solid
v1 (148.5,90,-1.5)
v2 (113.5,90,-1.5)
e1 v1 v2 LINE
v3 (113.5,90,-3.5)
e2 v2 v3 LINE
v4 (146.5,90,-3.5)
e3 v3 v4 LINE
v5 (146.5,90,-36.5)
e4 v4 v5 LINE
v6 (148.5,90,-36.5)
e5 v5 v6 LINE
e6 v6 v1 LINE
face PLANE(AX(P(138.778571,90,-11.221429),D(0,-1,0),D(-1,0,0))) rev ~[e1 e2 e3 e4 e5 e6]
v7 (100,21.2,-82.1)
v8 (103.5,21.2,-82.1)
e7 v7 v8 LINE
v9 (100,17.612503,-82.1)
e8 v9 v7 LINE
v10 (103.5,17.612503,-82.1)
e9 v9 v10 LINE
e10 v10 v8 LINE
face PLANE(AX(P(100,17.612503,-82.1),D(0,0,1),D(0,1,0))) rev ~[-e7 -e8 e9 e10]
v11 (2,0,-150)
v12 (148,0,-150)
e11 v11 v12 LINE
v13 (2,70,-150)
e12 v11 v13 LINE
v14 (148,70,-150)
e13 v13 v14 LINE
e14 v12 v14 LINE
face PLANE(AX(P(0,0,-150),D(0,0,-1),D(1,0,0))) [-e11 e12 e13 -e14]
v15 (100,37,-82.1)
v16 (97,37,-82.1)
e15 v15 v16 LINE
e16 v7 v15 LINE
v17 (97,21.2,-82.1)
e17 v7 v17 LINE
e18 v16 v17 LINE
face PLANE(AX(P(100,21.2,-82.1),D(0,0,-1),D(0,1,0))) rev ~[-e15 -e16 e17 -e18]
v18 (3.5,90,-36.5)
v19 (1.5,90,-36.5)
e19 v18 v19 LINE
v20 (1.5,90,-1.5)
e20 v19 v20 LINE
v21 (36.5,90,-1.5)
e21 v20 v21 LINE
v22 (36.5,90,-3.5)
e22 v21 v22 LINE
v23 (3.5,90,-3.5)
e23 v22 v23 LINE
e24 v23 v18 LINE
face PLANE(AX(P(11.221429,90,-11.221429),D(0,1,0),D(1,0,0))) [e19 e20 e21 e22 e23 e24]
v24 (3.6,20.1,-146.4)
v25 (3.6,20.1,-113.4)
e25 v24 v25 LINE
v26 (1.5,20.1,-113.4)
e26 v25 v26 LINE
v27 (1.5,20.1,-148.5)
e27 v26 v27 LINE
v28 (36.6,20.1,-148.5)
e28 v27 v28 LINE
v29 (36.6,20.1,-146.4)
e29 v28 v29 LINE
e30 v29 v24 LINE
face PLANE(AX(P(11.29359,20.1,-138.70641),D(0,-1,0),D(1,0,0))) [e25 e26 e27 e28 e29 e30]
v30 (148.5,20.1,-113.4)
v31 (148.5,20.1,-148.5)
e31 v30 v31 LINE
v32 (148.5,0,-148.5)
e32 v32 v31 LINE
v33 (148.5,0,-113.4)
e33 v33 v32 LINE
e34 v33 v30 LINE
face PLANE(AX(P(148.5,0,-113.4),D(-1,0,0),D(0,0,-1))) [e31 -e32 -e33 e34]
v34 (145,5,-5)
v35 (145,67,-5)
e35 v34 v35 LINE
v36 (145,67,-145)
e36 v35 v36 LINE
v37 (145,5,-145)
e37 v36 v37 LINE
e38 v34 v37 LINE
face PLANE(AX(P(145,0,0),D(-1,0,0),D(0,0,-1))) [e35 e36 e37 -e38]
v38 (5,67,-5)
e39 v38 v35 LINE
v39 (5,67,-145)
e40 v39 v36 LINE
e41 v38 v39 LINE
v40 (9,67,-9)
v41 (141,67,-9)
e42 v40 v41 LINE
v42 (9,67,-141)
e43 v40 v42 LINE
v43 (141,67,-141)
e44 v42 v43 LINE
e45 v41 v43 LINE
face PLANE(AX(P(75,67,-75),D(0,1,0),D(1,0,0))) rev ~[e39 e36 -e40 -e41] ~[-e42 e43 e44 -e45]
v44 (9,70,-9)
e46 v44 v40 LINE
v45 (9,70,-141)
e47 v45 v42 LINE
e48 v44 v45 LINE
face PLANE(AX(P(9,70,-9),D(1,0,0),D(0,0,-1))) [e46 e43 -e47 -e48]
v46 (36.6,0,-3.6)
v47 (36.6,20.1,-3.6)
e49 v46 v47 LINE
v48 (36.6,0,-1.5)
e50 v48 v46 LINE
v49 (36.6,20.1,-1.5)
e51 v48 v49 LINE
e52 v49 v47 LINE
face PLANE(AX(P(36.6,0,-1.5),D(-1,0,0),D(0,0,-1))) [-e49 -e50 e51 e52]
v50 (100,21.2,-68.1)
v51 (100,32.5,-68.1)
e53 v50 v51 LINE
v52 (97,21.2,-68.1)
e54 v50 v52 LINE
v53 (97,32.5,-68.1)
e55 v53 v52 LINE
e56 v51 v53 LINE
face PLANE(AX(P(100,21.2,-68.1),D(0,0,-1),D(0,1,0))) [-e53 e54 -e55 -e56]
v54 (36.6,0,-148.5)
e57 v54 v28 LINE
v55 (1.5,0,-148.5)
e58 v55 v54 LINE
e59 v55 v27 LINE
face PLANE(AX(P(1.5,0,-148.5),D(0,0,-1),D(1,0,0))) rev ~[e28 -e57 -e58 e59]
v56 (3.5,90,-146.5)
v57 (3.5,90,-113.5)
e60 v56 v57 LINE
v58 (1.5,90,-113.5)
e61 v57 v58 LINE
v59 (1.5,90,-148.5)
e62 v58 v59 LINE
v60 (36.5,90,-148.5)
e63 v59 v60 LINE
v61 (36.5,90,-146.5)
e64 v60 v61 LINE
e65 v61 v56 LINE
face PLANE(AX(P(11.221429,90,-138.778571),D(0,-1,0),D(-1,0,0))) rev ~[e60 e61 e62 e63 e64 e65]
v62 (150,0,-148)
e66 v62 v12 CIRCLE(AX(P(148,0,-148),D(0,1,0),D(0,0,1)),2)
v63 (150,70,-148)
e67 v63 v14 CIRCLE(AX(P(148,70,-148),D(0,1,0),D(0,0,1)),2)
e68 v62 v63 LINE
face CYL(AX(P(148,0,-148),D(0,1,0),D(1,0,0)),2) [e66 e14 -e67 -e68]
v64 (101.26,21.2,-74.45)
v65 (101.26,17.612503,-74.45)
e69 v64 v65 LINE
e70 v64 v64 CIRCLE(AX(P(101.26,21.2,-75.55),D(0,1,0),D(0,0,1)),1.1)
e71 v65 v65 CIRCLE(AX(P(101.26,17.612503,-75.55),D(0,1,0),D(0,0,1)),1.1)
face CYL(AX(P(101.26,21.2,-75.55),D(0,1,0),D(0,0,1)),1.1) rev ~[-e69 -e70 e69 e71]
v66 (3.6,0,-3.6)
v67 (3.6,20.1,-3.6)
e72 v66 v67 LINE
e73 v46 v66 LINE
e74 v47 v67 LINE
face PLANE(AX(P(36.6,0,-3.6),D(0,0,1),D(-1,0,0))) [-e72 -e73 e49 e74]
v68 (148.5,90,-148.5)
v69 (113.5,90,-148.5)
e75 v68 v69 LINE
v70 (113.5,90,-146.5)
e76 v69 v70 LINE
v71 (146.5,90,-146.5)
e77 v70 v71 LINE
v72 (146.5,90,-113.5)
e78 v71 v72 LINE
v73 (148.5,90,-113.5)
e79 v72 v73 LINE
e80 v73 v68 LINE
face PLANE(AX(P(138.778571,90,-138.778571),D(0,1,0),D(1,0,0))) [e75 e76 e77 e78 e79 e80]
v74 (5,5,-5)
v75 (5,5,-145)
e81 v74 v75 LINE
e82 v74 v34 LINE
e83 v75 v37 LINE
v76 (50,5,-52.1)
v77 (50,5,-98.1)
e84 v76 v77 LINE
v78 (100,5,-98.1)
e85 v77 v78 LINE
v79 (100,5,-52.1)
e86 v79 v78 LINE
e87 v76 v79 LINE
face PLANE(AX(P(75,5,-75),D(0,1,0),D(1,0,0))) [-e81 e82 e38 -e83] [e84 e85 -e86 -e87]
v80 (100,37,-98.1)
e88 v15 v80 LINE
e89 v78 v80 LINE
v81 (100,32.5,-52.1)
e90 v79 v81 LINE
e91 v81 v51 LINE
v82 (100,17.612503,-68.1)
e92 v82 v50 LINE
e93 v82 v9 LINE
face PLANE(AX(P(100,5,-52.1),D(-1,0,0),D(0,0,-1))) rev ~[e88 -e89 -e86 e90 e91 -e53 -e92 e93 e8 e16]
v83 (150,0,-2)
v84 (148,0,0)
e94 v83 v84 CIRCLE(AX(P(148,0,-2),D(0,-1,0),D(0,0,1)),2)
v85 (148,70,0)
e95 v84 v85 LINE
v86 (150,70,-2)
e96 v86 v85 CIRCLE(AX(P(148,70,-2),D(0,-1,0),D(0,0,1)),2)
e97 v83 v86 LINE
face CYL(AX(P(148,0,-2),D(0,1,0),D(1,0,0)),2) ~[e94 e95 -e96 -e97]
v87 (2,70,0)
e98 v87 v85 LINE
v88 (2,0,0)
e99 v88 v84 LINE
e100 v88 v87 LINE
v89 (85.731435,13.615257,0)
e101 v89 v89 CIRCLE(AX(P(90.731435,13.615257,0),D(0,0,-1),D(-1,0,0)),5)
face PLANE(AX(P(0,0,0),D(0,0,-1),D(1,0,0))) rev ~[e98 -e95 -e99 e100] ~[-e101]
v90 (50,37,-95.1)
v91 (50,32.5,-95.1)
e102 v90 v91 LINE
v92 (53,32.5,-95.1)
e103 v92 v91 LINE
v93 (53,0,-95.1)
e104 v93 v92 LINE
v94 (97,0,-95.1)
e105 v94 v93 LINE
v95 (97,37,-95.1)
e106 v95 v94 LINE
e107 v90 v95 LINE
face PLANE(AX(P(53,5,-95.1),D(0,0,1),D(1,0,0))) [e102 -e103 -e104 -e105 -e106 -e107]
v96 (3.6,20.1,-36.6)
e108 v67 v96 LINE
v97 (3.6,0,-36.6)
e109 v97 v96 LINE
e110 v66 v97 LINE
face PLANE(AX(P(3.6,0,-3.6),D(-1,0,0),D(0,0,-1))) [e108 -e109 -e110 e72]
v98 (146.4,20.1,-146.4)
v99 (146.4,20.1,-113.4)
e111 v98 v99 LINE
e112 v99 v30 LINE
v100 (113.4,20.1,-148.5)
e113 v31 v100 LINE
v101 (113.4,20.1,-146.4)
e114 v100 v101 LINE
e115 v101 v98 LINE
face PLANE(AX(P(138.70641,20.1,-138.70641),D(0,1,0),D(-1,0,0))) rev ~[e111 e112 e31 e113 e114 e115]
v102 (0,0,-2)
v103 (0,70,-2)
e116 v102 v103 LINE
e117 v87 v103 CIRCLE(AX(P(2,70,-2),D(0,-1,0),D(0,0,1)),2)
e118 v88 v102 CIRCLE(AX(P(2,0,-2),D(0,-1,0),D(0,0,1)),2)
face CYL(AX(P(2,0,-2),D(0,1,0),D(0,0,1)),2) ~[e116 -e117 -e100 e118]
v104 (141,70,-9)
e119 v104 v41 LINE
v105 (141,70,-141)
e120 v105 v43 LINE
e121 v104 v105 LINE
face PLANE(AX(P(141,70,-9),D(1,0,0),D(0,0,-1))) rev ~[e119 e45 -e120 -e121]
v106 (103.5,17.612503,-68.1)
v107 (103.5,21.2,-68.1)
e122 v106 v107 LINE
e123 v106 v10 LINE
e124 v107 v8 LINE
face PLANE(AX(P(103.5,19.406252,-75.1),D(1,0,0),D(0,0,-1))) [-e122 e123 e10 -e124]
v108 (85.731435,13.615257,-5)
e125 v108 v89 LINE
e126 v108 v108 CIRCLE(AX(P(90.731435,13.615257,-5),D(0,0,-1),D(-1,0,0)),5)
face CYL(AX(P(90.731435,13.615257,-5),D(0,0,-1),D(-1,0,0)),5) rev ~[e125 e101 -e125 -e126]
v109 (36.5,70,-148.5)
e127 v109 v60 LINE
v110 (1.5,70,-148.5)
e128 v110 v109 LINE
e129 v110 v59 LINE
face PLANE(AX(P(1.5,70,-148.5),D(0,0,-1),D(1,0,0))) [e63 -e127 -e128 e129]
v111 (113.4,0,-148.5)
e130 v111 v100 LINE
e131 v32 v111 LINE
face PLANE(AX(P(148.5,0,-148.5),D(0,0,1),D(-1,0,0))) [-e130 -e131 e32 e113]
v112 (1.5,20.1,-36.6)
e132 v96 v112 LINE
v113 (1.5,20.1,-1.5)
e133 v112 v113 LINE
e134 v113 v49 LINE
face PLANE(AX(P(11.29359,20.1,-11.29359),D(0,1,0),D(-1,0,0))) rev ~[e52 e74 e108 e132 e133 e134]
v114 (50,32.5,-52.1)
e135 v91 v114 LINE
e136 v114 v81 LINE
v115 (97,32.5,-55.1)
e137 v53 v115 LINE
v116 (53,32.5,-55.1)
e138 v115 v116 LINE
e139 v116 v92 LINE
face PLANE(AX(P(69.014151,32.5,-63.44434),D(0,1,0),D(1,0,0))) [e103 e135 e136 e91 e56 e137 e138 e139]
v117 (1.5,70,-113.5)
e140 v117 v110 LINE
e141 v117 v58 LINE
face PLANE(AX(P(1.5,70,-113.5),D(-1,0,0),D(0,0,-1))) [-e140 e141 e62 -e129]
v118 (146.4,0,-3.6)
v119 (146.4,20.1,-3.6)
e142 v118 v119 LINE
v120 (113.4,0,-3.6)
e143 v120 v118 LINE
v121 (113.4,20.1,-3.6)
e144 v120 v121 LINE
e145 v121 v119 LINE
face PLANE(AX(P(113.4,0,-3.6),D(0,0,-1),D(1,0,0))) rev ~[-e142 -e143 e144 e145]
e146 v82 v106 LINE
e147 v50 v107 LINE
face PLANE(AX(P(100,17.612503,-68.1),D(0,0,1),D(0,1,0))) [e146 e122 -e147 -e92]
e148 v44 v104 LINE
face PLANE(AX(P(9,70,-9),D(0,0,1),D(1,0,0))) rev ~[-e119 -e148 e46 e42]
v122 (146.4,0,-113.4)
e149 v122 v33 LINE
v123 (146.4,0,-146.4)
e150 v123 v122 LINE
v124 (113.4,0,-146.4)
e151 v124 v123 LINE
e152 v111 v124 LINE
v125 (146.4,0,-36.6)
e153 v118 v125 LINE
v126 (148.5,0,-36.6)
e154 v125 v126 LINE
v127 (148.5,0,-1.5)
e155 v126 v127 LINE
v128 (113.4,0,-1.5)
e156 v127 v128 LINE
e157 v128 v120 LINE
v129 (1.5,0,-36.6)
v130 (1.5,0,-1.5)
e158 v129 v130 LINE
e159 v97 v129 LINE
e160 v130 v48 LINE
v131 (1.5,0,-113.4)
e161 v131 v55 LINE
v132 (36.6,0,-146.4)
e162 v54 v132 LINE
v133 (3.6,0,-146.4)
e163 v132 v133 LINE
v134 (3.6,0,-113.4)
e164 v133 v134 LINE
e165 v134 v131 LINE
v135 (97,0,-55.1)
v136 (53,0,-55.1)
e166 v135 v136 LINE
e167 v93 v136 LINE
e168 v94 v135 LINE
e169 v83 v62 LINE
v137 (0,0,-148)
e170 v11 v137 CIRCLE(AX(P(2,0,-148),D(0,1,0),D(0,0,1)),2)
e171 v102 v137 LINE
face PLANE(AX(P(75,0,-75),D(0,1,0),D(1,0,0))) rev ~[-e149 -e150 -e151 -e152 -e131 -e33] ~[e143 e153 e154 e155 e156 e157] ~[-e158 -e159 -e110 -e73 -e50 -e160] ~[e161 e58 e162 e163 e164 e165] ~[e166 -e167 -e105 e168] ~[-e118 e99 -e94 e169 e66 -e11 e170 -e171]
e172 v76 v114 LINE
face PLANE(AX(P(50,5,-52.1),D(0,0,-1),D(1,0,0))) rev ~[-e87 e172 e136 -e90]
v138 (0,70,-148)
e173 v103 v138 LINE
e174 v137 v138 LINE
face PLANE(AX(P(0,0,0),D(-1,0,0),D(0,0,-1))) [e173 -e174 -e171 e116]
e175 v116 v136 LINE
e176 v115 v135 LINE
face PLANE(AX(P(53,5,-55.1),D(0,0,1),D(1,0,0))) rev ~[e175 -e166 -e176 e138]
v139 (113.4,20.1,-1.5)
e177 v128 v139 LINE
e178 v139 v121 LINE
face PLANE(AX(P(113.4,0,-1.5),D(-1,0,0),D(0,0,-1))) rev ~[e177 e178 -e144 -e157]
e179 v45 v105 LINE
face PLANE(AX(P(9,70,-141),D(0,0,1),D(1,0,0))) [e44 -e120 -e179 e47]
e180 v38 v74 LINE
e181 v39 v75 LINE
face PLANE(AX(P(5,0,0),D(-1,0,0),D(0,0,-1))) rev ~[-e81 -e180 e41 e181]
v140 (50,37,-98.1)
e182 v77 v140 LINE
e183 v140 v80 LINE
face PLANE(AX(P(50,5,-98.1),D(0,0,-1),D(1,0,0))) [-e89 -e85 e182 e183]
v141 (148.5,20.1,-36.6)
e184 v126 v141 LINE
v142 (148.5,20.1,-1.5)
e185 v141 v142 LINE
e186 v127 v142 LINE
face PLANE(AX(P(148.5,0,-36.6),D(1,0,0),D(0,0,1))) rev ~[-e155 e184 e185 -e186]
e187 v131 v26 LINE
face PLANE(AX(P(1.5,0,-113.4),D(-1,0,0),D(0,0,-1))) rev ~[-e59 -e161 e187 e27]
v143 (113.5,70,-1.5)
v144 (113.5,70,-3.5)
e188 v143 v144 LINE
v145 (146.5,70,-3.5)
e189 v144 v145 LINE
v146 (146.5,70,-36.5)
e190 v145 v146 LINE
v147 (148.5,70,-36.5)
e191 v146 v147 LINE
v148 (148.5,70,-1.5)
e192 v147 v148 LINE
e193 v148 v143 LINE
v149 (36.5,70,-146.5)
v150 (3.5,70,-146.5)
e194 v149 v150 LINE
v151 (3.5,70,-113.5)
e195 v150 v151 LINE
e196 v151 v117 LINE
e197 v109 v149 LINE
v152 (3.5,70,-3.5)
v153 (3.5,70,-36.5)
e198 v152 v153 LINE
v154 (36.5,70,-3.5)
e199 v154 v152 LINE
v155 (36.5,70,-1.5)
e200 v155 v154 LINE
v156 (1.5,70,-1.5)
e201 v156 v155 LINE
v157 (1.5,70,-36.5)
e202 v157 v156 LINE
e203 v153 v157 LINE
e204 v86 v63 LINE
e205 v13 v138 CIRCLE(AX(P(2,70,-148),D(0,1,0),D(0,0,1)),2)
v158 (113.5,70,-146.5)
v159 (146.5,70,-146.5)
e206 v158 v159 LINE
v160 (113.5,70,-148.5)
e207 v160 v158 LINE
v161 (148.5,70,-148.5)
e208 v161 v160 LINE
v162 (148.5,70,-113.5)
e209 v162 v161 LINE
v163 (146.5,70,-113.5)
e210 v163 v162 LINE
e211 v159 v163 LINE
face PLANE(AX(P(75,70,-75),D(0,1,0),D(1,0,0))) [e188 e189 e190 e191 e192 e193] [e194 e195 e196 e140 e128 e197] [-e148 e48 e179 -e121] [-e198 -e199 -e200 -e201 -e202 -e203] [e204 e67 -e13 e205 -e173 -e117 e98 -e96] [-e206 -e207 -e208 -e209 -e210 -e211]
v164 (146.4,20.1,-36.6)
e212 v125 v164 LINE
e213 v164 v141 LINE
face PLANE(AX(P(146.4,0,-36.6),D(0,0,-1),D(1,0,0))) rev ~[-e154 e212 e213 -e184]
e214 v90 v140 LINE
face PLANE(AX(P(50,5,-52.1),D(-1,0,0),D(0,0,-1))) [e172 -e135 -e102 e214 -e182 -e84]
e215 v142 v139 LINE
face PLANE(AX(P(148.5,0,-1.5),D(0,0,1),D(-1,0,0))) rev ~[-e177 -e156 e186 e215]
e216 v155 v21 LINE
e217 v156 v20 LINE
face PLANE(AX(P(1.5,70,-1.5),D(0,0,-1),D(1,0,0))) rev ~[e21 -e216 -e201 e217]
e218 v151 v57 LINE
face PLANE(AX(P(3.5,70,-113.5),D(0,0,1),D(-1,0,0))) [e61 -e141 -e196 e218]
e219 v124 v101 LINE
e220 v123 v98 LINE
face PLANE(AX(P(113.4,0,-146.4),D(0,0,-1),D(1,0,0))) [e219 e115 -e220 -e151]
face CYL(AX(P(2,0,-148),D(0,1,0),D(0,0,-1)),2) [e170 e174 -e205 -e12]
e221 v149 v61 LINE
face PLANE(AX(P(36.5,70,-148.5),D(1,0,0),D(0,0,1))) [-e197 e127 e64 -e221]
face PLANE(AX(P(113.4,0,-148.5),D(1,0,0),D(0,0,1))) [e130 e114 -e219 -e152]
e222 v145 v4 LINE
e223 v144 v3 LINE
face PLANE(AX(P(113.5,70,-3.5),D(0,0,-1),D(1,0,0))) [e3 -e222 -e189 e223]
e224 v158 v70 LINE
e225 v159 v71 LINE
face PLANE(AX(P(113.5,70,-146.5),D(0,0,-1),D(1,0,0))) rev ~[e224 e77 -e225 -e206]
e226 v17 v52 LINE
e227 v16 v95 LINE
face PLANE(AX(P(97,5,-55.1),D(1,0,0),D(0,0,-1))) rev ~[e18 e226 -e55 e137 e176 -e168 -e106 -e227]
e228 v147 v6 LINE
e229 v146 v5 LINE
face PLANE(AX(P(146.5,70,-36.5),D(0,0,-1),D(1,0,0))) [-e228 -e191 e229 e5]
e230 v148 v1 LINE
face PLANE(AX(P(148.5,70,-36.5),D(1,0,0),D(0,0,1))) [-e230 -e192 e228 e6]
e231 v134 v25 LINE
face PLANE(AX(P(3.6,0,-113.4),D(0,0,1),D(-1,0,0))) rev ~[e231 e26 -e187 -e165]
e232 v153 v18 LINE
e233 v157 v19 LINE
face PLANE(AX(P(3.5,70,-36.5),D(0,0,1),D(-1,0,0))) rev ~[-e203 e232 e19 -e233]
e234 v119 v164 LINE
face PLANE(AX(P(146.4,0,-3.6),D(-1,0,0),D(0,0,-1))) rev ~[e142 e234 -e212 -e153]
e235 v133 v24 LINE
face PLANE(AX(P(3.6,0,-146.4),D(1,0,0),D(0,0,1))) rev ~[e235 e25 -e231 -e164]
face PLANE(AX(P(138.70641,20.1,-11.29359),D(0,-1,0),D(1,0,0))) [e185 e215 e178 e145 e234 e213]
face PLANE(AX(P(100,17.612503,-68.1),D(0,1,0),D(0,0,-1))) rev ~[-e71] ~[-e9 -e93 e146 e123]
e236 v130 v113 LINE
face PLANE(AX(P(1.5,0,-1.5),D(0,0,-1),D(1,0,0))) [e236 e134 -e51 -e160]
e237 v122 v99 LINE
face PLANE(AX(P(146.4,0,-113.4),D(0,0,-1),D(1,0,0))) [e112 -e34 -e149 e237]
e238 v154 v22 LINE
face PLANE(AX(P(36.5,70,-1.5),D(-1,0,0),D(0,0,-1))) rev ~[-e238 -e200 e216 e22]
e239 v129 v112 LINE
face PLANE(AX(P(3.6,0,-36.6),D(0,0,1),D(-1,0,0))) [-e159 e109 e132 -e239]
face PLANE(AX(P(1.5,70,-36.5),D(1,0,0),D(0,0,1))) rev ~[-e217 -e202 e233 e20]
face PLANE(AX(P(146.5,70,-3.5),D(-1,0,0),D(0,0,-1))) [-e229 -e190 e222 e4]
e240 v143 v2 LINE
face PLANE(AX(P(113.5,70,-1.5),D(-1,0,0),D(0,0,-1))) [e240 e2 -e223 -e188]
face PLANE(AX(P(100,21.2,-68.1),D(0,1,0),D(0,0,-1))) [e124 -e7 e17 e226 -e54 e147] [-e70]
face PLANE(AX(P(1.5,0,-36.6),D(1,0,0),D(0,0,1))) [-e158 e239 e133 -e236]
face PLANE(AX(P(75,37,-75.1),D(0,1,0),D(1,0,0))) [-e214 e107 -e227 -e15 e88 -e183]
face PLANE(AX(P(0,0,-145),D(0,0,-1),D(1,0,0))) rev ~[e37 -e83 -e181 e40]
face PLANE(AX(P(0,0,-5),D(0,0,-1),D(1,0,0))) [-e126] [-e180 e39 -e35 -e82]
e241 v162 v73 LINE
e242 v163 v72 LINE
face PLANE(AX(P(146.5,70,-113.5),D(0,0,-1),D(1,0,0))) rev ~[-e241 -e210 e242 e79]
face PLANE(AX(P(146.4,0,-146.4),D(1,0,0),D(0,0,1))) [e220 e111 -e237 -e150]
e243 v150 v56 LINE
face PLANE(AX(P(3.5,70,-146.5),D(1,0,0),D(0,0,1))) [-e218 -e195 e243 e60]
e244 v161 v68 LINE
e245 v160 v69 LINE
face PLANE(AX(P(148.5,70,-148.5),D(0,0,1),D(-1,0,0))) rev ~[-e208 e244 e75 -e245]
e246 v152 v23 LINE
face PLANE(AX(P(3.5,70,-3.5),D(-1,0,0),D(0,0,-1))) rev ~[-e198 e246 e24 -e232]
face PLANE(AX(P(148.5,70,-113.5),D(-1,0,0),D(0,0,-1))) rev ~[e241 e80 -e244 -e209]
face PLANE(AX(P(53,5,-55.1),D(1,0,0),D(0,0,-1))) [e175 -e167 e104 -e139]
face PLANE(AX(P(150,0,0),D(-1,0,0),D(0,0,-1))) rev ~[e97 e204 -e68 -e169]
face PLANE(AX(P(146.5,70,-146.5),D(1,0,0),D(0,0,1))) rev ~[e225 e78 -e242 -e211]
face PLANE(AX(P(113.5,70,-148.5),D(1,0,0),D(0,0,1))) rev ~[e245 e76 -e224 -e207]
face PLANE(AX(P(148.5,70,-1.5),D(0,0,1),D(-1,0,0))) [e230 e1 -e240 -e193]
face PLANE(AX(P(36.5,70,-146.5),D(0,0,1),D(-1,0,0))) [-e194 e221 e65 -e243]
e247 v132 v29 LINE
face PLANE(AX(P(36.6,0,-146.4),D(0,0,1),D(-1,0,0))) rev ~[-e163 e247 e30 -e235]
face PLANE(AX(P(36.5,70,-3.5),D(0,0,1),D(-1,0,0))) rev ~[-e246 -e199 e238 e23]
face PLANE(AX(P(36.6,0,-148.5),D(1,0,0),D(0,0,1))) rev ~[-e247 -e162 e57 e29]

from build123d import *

# Parameters (mm, degrees)
SKETCH1_W           = 150
SKETCH1_H           = 150
BOSS_EXTRUDE1_DEPTH = 70
SHELL1_T            = -5
SKETCH2_W           = 50
SKETCH2_H           = 46
SKETCH2_W_2         = 44
SKETCH2_H_2         = 40
BOSS_EXTRUDE2_DEPTH = 32
CUT_EXTRUDE4_REACH  = 223.867
SKETCH5_W           = 44
SKETCH5_H           = 40
BOSS_EXTRUDE3_DEPTH = 20
SKETCH7_W           = 140
SKETCH7_H           = 140
SKETCH7_W_2         = 132
SKETCH7_H_2         = 132
BOSS_EXTRUDE4_DEPTH = 3
CUT_EXTRUDE5_REACH  = 203.494
SKETCH9_W           = 14
SKETCH9_H           = 15.8
SKETCH10_W          = 14
SKETCH10_H          = 3.5874966
BOSS_EXTRUDE5_DEPTH = 3.5
CUT_EXTRUDE6_REACH  = 225.01
SKETCH11_R          = 1.1
CUT_EXTRUDE8_DEPTH  = 4.5
FILLET1_R           = 2
CUT_EXTRUDE9_DEPTH  = 20.1
SKETCH14_R          = 5
CUT_EXTRUDE11_DEPTH = 20.1


with BuildPart() as part:
    # Sketch1 → Boss-Extrude1 (new body)
    with BuildSketch(Plane(origin=(0, 0, 0), x_dir=(1, 0, 0), z_dir=(0, 1, 0))):
        with Locations((75, 75)):
            Rectangle(SKETCH1_W, SKETCH1_H)
    extrude(amount=BOSS_EXTRUDE1_DEPTH)

    # Shell1
    shell1_openings = [part.faces().sort_by_distance(p)[0] for p in [
        (75, 70, -75),
    ]]
    offset(amount=SHELL1_T, openings=shell1_openings, kind=Kind.INTERSECTION)

    # Sketch2 → Boss-Extrude2 (add)
    with BuildSketch(Plane(origin=(0, 5, 0), x_dir=(1, 0, 0), z_dir=(0, 1, 0))):
        with Locations((75, 75.1)):
            Rectangle(SKETCH2_W, SKETCH2_H)
        with Locations((75, 75.1)):
            Rectangle(SKETCH2_W_2, SKETCH2_H_2, mode=Mode.SUBTRACT)
    extrude(amount=BOSS_EXTRUDE2_DEPTH)

    # Sketch5 → Cut-Extrude4 (cut, up to next)
    with BuildSketch(Plane(origin=(0, 5, 0), x_dir=(1, 0, 0), z_dir=(0, 1, 0)), mode=Mode.PRIVATE) as cut_extrude4_sk1:
        with Locations((75, 75.1)):
            Rectangle(SKETCH5_W, SKETCH5_H)
    cut_extrude4_tool1 = extrude(cut_extrude4_sk1.sketch, amount=-CUT_EXTRUDE4_REACH, mode=Mode.PRIVATE) & part.part
    add(cut_extrude4_tool1.solids().sort_by_distance((75, 5, -75.1))[0], mode=Mode.SUBTRACT)

    # Sketch6 → Boss-Extrude3 (add)
    with BuildSketch(Plane(origin=(0, 70, 0), x_dir=(1, 0, 0), z_dir=(0, 1, 0))):
        Polygon((1.5, 113.5), (1.5, 148.5), (36.5, 148.5), (36.5, 146.5), (3.5, 146.5), (3.5, 113.5), align=None)
        Polygon((1.5, 36.5), (1.5, 1.5), (36.5, 1.5), (36.5, 3.5), (3.5, 3.5), (3.5, 36.5), align=None)
        Polygon((148.5, 36.5), (148.5, 1.5), (113.5, 1.5), (113.5, 3.5), (146.5, 3.5), (146.5, 36.5), align=None)
        Polygon((148.5, 113.5), (148.5, 148.5), (113.5, 148.5), (113.5, 146.5), (146.5, 146.5), (146.5, 113.5), align=None)
    extrude(amount=BOSS_EXTRUDE3_DEPTH)

    # Sketch7 → Boss-Extrude4 (add)
    with BuildSketch(Plane(origin=(0, 70, 0), x_dir=(1, 0, 0), z_dir=(0, 1, 0))):
        with Locations((75, 75)):
            Rectangle(SKETCH7_W, SKETCH7_H)
        with Locations((75, 75)):
            Rectangle(SKETCH7_W_2, SKETCH7_H_2, mode=Mode.SUBTRACT)
    extrude(amount=-BOSS_EXTRUDE4_DEPTH)

    # Sketch9 → Cut-Extrude5 (cut, up to next)
    with BuildSketch(Plane(origin=(100, 0, 0), x_dir=(0, 0, -1), z_dir=(1, 0, 0)), mode=Mode.PRIVATE) as cut_extrude5_sk1:
        with Locations((75.1, 29.1)):
            Rectangle(SKETCH9_W, SKETCH9_H)
    cut_extrude5_tool1 = extrude(cut_extrude5_sk1.sketch, amount=-CUT_EXTRUDE5_REACH, mode=Mode.PRIVATE) & part.part
    add(cut_extrude5_tool1.solids().sort_by_distance((100, 29.1, -75.1))[0], mode=Mode.SUBTRACT)

    # Sketch10 → Boss-Extrude5 (add)
    with BuildSketch(Plane(origin=(100, 0, 0), x_dir=(0, 0, -1), z_dir=(1, 0, 0))):
        with Locations((75.1, 19.4062517)):
            Rectangle(SKETCH10_W, SKETCH10_H)
    extrude(amount=BOSS_EXTRUDE5_DEPTH)

    # Sketch11 → Cut-Extrude6 (cut, up to next)
    with BuildSketch(Plane(origin=(0, 21.2, 0), x_dir=(1, 0, 0), z_dir=(0, 1, 0)), mode=Mode.PRIVATE) as cut_extrude6_sk1:
        with Locations(Location((101.26, 75.55, 0), (0, 0, 270))):
            Circle(SKETCH11_R)
    cut_extrude6_tool1 = extrude(cut_extrude6_sk1.sketch, amount=-CUT_EXTRUDE6_REACH, mode=Mode.PRIVATE) & part.part
    add(cut_extrude6_tool1.solids().sort_by_distance((101.26, 21.2, -75.55))[0], mode=Mode.SUBTRACT)

    # Sketch12 → Cut-Extrude8 (cut)
    with BuildSketch(Plane(origin=(0, 37, 0), x_dir=(1, 0, 0), z_dir=(0, 1, 0))):
        Polygon((53, 95.1), (50, 95.1), (50, 52.1), (100, 52.1), (100, 68.1), (97, 68.1), (97, 55.1), (53, 55.1), align=None)
    extrude(amount=-CUT_EXTRUDE8_DEPTH, mode=Mode.SUBTRACT)

    # Fillet1
    fillet1_edges = [part.edges().sort_by_distance(p)[0] for p in [
        (0, 35, 0),
        (0, 35, -150),
        (150, 35, -150),
        (150, 35, 0),
    ]]
    fillet(fillet1_edges, radius=FILLET1_R)

    # Sketch13 → Cut-Extrude9 (cut)
    with BuildSketch(Plane.XZ):
        Polygon((1.5, -1.5), (36.6, -1.5), (36.6, -3.6), (3.6, -3.6), (3.6, -36.6), (1.5, -36.6), align=None)
        Polygon((148.5, -36.6), (148.5, -1.5), (113.4, -1.5), (113.4, -3.6), (146.4, -3.6), (146.4, -36.6), align=None)
        Polygon((148.5, -148.5), (113.4, -148.5), (113.4, -146.4), (146.4, -146.4), (146.4, -113.4), (148.5, -113.4), align=None)
        Polygon((1.5, -113.4), (1.5, -148.5), (36.6, -148.5), (36.6, -146.4), (3.6, -146.4), (3.6, -113.4), align=None)
    extrude(amount=-CUT_EXTRUDE9_DEPTH, mode=Mode.SUBTRACT)

    # Sketch14 → Cut-Extrude11 (cut)
    with BuildSketch(Plane(origin=(0, 0, -5), x_dir=(-1, 0, 0), z_dir=(0, 0, -1))):
        with Locations((-90.731434744, 13.61525696)):
            Circle(SKETCH14_R)
    extrude(amount=-CUT_EXTRUDE11_DEPTH, mode=Mode.SUBTRACT)


solid = part.part
